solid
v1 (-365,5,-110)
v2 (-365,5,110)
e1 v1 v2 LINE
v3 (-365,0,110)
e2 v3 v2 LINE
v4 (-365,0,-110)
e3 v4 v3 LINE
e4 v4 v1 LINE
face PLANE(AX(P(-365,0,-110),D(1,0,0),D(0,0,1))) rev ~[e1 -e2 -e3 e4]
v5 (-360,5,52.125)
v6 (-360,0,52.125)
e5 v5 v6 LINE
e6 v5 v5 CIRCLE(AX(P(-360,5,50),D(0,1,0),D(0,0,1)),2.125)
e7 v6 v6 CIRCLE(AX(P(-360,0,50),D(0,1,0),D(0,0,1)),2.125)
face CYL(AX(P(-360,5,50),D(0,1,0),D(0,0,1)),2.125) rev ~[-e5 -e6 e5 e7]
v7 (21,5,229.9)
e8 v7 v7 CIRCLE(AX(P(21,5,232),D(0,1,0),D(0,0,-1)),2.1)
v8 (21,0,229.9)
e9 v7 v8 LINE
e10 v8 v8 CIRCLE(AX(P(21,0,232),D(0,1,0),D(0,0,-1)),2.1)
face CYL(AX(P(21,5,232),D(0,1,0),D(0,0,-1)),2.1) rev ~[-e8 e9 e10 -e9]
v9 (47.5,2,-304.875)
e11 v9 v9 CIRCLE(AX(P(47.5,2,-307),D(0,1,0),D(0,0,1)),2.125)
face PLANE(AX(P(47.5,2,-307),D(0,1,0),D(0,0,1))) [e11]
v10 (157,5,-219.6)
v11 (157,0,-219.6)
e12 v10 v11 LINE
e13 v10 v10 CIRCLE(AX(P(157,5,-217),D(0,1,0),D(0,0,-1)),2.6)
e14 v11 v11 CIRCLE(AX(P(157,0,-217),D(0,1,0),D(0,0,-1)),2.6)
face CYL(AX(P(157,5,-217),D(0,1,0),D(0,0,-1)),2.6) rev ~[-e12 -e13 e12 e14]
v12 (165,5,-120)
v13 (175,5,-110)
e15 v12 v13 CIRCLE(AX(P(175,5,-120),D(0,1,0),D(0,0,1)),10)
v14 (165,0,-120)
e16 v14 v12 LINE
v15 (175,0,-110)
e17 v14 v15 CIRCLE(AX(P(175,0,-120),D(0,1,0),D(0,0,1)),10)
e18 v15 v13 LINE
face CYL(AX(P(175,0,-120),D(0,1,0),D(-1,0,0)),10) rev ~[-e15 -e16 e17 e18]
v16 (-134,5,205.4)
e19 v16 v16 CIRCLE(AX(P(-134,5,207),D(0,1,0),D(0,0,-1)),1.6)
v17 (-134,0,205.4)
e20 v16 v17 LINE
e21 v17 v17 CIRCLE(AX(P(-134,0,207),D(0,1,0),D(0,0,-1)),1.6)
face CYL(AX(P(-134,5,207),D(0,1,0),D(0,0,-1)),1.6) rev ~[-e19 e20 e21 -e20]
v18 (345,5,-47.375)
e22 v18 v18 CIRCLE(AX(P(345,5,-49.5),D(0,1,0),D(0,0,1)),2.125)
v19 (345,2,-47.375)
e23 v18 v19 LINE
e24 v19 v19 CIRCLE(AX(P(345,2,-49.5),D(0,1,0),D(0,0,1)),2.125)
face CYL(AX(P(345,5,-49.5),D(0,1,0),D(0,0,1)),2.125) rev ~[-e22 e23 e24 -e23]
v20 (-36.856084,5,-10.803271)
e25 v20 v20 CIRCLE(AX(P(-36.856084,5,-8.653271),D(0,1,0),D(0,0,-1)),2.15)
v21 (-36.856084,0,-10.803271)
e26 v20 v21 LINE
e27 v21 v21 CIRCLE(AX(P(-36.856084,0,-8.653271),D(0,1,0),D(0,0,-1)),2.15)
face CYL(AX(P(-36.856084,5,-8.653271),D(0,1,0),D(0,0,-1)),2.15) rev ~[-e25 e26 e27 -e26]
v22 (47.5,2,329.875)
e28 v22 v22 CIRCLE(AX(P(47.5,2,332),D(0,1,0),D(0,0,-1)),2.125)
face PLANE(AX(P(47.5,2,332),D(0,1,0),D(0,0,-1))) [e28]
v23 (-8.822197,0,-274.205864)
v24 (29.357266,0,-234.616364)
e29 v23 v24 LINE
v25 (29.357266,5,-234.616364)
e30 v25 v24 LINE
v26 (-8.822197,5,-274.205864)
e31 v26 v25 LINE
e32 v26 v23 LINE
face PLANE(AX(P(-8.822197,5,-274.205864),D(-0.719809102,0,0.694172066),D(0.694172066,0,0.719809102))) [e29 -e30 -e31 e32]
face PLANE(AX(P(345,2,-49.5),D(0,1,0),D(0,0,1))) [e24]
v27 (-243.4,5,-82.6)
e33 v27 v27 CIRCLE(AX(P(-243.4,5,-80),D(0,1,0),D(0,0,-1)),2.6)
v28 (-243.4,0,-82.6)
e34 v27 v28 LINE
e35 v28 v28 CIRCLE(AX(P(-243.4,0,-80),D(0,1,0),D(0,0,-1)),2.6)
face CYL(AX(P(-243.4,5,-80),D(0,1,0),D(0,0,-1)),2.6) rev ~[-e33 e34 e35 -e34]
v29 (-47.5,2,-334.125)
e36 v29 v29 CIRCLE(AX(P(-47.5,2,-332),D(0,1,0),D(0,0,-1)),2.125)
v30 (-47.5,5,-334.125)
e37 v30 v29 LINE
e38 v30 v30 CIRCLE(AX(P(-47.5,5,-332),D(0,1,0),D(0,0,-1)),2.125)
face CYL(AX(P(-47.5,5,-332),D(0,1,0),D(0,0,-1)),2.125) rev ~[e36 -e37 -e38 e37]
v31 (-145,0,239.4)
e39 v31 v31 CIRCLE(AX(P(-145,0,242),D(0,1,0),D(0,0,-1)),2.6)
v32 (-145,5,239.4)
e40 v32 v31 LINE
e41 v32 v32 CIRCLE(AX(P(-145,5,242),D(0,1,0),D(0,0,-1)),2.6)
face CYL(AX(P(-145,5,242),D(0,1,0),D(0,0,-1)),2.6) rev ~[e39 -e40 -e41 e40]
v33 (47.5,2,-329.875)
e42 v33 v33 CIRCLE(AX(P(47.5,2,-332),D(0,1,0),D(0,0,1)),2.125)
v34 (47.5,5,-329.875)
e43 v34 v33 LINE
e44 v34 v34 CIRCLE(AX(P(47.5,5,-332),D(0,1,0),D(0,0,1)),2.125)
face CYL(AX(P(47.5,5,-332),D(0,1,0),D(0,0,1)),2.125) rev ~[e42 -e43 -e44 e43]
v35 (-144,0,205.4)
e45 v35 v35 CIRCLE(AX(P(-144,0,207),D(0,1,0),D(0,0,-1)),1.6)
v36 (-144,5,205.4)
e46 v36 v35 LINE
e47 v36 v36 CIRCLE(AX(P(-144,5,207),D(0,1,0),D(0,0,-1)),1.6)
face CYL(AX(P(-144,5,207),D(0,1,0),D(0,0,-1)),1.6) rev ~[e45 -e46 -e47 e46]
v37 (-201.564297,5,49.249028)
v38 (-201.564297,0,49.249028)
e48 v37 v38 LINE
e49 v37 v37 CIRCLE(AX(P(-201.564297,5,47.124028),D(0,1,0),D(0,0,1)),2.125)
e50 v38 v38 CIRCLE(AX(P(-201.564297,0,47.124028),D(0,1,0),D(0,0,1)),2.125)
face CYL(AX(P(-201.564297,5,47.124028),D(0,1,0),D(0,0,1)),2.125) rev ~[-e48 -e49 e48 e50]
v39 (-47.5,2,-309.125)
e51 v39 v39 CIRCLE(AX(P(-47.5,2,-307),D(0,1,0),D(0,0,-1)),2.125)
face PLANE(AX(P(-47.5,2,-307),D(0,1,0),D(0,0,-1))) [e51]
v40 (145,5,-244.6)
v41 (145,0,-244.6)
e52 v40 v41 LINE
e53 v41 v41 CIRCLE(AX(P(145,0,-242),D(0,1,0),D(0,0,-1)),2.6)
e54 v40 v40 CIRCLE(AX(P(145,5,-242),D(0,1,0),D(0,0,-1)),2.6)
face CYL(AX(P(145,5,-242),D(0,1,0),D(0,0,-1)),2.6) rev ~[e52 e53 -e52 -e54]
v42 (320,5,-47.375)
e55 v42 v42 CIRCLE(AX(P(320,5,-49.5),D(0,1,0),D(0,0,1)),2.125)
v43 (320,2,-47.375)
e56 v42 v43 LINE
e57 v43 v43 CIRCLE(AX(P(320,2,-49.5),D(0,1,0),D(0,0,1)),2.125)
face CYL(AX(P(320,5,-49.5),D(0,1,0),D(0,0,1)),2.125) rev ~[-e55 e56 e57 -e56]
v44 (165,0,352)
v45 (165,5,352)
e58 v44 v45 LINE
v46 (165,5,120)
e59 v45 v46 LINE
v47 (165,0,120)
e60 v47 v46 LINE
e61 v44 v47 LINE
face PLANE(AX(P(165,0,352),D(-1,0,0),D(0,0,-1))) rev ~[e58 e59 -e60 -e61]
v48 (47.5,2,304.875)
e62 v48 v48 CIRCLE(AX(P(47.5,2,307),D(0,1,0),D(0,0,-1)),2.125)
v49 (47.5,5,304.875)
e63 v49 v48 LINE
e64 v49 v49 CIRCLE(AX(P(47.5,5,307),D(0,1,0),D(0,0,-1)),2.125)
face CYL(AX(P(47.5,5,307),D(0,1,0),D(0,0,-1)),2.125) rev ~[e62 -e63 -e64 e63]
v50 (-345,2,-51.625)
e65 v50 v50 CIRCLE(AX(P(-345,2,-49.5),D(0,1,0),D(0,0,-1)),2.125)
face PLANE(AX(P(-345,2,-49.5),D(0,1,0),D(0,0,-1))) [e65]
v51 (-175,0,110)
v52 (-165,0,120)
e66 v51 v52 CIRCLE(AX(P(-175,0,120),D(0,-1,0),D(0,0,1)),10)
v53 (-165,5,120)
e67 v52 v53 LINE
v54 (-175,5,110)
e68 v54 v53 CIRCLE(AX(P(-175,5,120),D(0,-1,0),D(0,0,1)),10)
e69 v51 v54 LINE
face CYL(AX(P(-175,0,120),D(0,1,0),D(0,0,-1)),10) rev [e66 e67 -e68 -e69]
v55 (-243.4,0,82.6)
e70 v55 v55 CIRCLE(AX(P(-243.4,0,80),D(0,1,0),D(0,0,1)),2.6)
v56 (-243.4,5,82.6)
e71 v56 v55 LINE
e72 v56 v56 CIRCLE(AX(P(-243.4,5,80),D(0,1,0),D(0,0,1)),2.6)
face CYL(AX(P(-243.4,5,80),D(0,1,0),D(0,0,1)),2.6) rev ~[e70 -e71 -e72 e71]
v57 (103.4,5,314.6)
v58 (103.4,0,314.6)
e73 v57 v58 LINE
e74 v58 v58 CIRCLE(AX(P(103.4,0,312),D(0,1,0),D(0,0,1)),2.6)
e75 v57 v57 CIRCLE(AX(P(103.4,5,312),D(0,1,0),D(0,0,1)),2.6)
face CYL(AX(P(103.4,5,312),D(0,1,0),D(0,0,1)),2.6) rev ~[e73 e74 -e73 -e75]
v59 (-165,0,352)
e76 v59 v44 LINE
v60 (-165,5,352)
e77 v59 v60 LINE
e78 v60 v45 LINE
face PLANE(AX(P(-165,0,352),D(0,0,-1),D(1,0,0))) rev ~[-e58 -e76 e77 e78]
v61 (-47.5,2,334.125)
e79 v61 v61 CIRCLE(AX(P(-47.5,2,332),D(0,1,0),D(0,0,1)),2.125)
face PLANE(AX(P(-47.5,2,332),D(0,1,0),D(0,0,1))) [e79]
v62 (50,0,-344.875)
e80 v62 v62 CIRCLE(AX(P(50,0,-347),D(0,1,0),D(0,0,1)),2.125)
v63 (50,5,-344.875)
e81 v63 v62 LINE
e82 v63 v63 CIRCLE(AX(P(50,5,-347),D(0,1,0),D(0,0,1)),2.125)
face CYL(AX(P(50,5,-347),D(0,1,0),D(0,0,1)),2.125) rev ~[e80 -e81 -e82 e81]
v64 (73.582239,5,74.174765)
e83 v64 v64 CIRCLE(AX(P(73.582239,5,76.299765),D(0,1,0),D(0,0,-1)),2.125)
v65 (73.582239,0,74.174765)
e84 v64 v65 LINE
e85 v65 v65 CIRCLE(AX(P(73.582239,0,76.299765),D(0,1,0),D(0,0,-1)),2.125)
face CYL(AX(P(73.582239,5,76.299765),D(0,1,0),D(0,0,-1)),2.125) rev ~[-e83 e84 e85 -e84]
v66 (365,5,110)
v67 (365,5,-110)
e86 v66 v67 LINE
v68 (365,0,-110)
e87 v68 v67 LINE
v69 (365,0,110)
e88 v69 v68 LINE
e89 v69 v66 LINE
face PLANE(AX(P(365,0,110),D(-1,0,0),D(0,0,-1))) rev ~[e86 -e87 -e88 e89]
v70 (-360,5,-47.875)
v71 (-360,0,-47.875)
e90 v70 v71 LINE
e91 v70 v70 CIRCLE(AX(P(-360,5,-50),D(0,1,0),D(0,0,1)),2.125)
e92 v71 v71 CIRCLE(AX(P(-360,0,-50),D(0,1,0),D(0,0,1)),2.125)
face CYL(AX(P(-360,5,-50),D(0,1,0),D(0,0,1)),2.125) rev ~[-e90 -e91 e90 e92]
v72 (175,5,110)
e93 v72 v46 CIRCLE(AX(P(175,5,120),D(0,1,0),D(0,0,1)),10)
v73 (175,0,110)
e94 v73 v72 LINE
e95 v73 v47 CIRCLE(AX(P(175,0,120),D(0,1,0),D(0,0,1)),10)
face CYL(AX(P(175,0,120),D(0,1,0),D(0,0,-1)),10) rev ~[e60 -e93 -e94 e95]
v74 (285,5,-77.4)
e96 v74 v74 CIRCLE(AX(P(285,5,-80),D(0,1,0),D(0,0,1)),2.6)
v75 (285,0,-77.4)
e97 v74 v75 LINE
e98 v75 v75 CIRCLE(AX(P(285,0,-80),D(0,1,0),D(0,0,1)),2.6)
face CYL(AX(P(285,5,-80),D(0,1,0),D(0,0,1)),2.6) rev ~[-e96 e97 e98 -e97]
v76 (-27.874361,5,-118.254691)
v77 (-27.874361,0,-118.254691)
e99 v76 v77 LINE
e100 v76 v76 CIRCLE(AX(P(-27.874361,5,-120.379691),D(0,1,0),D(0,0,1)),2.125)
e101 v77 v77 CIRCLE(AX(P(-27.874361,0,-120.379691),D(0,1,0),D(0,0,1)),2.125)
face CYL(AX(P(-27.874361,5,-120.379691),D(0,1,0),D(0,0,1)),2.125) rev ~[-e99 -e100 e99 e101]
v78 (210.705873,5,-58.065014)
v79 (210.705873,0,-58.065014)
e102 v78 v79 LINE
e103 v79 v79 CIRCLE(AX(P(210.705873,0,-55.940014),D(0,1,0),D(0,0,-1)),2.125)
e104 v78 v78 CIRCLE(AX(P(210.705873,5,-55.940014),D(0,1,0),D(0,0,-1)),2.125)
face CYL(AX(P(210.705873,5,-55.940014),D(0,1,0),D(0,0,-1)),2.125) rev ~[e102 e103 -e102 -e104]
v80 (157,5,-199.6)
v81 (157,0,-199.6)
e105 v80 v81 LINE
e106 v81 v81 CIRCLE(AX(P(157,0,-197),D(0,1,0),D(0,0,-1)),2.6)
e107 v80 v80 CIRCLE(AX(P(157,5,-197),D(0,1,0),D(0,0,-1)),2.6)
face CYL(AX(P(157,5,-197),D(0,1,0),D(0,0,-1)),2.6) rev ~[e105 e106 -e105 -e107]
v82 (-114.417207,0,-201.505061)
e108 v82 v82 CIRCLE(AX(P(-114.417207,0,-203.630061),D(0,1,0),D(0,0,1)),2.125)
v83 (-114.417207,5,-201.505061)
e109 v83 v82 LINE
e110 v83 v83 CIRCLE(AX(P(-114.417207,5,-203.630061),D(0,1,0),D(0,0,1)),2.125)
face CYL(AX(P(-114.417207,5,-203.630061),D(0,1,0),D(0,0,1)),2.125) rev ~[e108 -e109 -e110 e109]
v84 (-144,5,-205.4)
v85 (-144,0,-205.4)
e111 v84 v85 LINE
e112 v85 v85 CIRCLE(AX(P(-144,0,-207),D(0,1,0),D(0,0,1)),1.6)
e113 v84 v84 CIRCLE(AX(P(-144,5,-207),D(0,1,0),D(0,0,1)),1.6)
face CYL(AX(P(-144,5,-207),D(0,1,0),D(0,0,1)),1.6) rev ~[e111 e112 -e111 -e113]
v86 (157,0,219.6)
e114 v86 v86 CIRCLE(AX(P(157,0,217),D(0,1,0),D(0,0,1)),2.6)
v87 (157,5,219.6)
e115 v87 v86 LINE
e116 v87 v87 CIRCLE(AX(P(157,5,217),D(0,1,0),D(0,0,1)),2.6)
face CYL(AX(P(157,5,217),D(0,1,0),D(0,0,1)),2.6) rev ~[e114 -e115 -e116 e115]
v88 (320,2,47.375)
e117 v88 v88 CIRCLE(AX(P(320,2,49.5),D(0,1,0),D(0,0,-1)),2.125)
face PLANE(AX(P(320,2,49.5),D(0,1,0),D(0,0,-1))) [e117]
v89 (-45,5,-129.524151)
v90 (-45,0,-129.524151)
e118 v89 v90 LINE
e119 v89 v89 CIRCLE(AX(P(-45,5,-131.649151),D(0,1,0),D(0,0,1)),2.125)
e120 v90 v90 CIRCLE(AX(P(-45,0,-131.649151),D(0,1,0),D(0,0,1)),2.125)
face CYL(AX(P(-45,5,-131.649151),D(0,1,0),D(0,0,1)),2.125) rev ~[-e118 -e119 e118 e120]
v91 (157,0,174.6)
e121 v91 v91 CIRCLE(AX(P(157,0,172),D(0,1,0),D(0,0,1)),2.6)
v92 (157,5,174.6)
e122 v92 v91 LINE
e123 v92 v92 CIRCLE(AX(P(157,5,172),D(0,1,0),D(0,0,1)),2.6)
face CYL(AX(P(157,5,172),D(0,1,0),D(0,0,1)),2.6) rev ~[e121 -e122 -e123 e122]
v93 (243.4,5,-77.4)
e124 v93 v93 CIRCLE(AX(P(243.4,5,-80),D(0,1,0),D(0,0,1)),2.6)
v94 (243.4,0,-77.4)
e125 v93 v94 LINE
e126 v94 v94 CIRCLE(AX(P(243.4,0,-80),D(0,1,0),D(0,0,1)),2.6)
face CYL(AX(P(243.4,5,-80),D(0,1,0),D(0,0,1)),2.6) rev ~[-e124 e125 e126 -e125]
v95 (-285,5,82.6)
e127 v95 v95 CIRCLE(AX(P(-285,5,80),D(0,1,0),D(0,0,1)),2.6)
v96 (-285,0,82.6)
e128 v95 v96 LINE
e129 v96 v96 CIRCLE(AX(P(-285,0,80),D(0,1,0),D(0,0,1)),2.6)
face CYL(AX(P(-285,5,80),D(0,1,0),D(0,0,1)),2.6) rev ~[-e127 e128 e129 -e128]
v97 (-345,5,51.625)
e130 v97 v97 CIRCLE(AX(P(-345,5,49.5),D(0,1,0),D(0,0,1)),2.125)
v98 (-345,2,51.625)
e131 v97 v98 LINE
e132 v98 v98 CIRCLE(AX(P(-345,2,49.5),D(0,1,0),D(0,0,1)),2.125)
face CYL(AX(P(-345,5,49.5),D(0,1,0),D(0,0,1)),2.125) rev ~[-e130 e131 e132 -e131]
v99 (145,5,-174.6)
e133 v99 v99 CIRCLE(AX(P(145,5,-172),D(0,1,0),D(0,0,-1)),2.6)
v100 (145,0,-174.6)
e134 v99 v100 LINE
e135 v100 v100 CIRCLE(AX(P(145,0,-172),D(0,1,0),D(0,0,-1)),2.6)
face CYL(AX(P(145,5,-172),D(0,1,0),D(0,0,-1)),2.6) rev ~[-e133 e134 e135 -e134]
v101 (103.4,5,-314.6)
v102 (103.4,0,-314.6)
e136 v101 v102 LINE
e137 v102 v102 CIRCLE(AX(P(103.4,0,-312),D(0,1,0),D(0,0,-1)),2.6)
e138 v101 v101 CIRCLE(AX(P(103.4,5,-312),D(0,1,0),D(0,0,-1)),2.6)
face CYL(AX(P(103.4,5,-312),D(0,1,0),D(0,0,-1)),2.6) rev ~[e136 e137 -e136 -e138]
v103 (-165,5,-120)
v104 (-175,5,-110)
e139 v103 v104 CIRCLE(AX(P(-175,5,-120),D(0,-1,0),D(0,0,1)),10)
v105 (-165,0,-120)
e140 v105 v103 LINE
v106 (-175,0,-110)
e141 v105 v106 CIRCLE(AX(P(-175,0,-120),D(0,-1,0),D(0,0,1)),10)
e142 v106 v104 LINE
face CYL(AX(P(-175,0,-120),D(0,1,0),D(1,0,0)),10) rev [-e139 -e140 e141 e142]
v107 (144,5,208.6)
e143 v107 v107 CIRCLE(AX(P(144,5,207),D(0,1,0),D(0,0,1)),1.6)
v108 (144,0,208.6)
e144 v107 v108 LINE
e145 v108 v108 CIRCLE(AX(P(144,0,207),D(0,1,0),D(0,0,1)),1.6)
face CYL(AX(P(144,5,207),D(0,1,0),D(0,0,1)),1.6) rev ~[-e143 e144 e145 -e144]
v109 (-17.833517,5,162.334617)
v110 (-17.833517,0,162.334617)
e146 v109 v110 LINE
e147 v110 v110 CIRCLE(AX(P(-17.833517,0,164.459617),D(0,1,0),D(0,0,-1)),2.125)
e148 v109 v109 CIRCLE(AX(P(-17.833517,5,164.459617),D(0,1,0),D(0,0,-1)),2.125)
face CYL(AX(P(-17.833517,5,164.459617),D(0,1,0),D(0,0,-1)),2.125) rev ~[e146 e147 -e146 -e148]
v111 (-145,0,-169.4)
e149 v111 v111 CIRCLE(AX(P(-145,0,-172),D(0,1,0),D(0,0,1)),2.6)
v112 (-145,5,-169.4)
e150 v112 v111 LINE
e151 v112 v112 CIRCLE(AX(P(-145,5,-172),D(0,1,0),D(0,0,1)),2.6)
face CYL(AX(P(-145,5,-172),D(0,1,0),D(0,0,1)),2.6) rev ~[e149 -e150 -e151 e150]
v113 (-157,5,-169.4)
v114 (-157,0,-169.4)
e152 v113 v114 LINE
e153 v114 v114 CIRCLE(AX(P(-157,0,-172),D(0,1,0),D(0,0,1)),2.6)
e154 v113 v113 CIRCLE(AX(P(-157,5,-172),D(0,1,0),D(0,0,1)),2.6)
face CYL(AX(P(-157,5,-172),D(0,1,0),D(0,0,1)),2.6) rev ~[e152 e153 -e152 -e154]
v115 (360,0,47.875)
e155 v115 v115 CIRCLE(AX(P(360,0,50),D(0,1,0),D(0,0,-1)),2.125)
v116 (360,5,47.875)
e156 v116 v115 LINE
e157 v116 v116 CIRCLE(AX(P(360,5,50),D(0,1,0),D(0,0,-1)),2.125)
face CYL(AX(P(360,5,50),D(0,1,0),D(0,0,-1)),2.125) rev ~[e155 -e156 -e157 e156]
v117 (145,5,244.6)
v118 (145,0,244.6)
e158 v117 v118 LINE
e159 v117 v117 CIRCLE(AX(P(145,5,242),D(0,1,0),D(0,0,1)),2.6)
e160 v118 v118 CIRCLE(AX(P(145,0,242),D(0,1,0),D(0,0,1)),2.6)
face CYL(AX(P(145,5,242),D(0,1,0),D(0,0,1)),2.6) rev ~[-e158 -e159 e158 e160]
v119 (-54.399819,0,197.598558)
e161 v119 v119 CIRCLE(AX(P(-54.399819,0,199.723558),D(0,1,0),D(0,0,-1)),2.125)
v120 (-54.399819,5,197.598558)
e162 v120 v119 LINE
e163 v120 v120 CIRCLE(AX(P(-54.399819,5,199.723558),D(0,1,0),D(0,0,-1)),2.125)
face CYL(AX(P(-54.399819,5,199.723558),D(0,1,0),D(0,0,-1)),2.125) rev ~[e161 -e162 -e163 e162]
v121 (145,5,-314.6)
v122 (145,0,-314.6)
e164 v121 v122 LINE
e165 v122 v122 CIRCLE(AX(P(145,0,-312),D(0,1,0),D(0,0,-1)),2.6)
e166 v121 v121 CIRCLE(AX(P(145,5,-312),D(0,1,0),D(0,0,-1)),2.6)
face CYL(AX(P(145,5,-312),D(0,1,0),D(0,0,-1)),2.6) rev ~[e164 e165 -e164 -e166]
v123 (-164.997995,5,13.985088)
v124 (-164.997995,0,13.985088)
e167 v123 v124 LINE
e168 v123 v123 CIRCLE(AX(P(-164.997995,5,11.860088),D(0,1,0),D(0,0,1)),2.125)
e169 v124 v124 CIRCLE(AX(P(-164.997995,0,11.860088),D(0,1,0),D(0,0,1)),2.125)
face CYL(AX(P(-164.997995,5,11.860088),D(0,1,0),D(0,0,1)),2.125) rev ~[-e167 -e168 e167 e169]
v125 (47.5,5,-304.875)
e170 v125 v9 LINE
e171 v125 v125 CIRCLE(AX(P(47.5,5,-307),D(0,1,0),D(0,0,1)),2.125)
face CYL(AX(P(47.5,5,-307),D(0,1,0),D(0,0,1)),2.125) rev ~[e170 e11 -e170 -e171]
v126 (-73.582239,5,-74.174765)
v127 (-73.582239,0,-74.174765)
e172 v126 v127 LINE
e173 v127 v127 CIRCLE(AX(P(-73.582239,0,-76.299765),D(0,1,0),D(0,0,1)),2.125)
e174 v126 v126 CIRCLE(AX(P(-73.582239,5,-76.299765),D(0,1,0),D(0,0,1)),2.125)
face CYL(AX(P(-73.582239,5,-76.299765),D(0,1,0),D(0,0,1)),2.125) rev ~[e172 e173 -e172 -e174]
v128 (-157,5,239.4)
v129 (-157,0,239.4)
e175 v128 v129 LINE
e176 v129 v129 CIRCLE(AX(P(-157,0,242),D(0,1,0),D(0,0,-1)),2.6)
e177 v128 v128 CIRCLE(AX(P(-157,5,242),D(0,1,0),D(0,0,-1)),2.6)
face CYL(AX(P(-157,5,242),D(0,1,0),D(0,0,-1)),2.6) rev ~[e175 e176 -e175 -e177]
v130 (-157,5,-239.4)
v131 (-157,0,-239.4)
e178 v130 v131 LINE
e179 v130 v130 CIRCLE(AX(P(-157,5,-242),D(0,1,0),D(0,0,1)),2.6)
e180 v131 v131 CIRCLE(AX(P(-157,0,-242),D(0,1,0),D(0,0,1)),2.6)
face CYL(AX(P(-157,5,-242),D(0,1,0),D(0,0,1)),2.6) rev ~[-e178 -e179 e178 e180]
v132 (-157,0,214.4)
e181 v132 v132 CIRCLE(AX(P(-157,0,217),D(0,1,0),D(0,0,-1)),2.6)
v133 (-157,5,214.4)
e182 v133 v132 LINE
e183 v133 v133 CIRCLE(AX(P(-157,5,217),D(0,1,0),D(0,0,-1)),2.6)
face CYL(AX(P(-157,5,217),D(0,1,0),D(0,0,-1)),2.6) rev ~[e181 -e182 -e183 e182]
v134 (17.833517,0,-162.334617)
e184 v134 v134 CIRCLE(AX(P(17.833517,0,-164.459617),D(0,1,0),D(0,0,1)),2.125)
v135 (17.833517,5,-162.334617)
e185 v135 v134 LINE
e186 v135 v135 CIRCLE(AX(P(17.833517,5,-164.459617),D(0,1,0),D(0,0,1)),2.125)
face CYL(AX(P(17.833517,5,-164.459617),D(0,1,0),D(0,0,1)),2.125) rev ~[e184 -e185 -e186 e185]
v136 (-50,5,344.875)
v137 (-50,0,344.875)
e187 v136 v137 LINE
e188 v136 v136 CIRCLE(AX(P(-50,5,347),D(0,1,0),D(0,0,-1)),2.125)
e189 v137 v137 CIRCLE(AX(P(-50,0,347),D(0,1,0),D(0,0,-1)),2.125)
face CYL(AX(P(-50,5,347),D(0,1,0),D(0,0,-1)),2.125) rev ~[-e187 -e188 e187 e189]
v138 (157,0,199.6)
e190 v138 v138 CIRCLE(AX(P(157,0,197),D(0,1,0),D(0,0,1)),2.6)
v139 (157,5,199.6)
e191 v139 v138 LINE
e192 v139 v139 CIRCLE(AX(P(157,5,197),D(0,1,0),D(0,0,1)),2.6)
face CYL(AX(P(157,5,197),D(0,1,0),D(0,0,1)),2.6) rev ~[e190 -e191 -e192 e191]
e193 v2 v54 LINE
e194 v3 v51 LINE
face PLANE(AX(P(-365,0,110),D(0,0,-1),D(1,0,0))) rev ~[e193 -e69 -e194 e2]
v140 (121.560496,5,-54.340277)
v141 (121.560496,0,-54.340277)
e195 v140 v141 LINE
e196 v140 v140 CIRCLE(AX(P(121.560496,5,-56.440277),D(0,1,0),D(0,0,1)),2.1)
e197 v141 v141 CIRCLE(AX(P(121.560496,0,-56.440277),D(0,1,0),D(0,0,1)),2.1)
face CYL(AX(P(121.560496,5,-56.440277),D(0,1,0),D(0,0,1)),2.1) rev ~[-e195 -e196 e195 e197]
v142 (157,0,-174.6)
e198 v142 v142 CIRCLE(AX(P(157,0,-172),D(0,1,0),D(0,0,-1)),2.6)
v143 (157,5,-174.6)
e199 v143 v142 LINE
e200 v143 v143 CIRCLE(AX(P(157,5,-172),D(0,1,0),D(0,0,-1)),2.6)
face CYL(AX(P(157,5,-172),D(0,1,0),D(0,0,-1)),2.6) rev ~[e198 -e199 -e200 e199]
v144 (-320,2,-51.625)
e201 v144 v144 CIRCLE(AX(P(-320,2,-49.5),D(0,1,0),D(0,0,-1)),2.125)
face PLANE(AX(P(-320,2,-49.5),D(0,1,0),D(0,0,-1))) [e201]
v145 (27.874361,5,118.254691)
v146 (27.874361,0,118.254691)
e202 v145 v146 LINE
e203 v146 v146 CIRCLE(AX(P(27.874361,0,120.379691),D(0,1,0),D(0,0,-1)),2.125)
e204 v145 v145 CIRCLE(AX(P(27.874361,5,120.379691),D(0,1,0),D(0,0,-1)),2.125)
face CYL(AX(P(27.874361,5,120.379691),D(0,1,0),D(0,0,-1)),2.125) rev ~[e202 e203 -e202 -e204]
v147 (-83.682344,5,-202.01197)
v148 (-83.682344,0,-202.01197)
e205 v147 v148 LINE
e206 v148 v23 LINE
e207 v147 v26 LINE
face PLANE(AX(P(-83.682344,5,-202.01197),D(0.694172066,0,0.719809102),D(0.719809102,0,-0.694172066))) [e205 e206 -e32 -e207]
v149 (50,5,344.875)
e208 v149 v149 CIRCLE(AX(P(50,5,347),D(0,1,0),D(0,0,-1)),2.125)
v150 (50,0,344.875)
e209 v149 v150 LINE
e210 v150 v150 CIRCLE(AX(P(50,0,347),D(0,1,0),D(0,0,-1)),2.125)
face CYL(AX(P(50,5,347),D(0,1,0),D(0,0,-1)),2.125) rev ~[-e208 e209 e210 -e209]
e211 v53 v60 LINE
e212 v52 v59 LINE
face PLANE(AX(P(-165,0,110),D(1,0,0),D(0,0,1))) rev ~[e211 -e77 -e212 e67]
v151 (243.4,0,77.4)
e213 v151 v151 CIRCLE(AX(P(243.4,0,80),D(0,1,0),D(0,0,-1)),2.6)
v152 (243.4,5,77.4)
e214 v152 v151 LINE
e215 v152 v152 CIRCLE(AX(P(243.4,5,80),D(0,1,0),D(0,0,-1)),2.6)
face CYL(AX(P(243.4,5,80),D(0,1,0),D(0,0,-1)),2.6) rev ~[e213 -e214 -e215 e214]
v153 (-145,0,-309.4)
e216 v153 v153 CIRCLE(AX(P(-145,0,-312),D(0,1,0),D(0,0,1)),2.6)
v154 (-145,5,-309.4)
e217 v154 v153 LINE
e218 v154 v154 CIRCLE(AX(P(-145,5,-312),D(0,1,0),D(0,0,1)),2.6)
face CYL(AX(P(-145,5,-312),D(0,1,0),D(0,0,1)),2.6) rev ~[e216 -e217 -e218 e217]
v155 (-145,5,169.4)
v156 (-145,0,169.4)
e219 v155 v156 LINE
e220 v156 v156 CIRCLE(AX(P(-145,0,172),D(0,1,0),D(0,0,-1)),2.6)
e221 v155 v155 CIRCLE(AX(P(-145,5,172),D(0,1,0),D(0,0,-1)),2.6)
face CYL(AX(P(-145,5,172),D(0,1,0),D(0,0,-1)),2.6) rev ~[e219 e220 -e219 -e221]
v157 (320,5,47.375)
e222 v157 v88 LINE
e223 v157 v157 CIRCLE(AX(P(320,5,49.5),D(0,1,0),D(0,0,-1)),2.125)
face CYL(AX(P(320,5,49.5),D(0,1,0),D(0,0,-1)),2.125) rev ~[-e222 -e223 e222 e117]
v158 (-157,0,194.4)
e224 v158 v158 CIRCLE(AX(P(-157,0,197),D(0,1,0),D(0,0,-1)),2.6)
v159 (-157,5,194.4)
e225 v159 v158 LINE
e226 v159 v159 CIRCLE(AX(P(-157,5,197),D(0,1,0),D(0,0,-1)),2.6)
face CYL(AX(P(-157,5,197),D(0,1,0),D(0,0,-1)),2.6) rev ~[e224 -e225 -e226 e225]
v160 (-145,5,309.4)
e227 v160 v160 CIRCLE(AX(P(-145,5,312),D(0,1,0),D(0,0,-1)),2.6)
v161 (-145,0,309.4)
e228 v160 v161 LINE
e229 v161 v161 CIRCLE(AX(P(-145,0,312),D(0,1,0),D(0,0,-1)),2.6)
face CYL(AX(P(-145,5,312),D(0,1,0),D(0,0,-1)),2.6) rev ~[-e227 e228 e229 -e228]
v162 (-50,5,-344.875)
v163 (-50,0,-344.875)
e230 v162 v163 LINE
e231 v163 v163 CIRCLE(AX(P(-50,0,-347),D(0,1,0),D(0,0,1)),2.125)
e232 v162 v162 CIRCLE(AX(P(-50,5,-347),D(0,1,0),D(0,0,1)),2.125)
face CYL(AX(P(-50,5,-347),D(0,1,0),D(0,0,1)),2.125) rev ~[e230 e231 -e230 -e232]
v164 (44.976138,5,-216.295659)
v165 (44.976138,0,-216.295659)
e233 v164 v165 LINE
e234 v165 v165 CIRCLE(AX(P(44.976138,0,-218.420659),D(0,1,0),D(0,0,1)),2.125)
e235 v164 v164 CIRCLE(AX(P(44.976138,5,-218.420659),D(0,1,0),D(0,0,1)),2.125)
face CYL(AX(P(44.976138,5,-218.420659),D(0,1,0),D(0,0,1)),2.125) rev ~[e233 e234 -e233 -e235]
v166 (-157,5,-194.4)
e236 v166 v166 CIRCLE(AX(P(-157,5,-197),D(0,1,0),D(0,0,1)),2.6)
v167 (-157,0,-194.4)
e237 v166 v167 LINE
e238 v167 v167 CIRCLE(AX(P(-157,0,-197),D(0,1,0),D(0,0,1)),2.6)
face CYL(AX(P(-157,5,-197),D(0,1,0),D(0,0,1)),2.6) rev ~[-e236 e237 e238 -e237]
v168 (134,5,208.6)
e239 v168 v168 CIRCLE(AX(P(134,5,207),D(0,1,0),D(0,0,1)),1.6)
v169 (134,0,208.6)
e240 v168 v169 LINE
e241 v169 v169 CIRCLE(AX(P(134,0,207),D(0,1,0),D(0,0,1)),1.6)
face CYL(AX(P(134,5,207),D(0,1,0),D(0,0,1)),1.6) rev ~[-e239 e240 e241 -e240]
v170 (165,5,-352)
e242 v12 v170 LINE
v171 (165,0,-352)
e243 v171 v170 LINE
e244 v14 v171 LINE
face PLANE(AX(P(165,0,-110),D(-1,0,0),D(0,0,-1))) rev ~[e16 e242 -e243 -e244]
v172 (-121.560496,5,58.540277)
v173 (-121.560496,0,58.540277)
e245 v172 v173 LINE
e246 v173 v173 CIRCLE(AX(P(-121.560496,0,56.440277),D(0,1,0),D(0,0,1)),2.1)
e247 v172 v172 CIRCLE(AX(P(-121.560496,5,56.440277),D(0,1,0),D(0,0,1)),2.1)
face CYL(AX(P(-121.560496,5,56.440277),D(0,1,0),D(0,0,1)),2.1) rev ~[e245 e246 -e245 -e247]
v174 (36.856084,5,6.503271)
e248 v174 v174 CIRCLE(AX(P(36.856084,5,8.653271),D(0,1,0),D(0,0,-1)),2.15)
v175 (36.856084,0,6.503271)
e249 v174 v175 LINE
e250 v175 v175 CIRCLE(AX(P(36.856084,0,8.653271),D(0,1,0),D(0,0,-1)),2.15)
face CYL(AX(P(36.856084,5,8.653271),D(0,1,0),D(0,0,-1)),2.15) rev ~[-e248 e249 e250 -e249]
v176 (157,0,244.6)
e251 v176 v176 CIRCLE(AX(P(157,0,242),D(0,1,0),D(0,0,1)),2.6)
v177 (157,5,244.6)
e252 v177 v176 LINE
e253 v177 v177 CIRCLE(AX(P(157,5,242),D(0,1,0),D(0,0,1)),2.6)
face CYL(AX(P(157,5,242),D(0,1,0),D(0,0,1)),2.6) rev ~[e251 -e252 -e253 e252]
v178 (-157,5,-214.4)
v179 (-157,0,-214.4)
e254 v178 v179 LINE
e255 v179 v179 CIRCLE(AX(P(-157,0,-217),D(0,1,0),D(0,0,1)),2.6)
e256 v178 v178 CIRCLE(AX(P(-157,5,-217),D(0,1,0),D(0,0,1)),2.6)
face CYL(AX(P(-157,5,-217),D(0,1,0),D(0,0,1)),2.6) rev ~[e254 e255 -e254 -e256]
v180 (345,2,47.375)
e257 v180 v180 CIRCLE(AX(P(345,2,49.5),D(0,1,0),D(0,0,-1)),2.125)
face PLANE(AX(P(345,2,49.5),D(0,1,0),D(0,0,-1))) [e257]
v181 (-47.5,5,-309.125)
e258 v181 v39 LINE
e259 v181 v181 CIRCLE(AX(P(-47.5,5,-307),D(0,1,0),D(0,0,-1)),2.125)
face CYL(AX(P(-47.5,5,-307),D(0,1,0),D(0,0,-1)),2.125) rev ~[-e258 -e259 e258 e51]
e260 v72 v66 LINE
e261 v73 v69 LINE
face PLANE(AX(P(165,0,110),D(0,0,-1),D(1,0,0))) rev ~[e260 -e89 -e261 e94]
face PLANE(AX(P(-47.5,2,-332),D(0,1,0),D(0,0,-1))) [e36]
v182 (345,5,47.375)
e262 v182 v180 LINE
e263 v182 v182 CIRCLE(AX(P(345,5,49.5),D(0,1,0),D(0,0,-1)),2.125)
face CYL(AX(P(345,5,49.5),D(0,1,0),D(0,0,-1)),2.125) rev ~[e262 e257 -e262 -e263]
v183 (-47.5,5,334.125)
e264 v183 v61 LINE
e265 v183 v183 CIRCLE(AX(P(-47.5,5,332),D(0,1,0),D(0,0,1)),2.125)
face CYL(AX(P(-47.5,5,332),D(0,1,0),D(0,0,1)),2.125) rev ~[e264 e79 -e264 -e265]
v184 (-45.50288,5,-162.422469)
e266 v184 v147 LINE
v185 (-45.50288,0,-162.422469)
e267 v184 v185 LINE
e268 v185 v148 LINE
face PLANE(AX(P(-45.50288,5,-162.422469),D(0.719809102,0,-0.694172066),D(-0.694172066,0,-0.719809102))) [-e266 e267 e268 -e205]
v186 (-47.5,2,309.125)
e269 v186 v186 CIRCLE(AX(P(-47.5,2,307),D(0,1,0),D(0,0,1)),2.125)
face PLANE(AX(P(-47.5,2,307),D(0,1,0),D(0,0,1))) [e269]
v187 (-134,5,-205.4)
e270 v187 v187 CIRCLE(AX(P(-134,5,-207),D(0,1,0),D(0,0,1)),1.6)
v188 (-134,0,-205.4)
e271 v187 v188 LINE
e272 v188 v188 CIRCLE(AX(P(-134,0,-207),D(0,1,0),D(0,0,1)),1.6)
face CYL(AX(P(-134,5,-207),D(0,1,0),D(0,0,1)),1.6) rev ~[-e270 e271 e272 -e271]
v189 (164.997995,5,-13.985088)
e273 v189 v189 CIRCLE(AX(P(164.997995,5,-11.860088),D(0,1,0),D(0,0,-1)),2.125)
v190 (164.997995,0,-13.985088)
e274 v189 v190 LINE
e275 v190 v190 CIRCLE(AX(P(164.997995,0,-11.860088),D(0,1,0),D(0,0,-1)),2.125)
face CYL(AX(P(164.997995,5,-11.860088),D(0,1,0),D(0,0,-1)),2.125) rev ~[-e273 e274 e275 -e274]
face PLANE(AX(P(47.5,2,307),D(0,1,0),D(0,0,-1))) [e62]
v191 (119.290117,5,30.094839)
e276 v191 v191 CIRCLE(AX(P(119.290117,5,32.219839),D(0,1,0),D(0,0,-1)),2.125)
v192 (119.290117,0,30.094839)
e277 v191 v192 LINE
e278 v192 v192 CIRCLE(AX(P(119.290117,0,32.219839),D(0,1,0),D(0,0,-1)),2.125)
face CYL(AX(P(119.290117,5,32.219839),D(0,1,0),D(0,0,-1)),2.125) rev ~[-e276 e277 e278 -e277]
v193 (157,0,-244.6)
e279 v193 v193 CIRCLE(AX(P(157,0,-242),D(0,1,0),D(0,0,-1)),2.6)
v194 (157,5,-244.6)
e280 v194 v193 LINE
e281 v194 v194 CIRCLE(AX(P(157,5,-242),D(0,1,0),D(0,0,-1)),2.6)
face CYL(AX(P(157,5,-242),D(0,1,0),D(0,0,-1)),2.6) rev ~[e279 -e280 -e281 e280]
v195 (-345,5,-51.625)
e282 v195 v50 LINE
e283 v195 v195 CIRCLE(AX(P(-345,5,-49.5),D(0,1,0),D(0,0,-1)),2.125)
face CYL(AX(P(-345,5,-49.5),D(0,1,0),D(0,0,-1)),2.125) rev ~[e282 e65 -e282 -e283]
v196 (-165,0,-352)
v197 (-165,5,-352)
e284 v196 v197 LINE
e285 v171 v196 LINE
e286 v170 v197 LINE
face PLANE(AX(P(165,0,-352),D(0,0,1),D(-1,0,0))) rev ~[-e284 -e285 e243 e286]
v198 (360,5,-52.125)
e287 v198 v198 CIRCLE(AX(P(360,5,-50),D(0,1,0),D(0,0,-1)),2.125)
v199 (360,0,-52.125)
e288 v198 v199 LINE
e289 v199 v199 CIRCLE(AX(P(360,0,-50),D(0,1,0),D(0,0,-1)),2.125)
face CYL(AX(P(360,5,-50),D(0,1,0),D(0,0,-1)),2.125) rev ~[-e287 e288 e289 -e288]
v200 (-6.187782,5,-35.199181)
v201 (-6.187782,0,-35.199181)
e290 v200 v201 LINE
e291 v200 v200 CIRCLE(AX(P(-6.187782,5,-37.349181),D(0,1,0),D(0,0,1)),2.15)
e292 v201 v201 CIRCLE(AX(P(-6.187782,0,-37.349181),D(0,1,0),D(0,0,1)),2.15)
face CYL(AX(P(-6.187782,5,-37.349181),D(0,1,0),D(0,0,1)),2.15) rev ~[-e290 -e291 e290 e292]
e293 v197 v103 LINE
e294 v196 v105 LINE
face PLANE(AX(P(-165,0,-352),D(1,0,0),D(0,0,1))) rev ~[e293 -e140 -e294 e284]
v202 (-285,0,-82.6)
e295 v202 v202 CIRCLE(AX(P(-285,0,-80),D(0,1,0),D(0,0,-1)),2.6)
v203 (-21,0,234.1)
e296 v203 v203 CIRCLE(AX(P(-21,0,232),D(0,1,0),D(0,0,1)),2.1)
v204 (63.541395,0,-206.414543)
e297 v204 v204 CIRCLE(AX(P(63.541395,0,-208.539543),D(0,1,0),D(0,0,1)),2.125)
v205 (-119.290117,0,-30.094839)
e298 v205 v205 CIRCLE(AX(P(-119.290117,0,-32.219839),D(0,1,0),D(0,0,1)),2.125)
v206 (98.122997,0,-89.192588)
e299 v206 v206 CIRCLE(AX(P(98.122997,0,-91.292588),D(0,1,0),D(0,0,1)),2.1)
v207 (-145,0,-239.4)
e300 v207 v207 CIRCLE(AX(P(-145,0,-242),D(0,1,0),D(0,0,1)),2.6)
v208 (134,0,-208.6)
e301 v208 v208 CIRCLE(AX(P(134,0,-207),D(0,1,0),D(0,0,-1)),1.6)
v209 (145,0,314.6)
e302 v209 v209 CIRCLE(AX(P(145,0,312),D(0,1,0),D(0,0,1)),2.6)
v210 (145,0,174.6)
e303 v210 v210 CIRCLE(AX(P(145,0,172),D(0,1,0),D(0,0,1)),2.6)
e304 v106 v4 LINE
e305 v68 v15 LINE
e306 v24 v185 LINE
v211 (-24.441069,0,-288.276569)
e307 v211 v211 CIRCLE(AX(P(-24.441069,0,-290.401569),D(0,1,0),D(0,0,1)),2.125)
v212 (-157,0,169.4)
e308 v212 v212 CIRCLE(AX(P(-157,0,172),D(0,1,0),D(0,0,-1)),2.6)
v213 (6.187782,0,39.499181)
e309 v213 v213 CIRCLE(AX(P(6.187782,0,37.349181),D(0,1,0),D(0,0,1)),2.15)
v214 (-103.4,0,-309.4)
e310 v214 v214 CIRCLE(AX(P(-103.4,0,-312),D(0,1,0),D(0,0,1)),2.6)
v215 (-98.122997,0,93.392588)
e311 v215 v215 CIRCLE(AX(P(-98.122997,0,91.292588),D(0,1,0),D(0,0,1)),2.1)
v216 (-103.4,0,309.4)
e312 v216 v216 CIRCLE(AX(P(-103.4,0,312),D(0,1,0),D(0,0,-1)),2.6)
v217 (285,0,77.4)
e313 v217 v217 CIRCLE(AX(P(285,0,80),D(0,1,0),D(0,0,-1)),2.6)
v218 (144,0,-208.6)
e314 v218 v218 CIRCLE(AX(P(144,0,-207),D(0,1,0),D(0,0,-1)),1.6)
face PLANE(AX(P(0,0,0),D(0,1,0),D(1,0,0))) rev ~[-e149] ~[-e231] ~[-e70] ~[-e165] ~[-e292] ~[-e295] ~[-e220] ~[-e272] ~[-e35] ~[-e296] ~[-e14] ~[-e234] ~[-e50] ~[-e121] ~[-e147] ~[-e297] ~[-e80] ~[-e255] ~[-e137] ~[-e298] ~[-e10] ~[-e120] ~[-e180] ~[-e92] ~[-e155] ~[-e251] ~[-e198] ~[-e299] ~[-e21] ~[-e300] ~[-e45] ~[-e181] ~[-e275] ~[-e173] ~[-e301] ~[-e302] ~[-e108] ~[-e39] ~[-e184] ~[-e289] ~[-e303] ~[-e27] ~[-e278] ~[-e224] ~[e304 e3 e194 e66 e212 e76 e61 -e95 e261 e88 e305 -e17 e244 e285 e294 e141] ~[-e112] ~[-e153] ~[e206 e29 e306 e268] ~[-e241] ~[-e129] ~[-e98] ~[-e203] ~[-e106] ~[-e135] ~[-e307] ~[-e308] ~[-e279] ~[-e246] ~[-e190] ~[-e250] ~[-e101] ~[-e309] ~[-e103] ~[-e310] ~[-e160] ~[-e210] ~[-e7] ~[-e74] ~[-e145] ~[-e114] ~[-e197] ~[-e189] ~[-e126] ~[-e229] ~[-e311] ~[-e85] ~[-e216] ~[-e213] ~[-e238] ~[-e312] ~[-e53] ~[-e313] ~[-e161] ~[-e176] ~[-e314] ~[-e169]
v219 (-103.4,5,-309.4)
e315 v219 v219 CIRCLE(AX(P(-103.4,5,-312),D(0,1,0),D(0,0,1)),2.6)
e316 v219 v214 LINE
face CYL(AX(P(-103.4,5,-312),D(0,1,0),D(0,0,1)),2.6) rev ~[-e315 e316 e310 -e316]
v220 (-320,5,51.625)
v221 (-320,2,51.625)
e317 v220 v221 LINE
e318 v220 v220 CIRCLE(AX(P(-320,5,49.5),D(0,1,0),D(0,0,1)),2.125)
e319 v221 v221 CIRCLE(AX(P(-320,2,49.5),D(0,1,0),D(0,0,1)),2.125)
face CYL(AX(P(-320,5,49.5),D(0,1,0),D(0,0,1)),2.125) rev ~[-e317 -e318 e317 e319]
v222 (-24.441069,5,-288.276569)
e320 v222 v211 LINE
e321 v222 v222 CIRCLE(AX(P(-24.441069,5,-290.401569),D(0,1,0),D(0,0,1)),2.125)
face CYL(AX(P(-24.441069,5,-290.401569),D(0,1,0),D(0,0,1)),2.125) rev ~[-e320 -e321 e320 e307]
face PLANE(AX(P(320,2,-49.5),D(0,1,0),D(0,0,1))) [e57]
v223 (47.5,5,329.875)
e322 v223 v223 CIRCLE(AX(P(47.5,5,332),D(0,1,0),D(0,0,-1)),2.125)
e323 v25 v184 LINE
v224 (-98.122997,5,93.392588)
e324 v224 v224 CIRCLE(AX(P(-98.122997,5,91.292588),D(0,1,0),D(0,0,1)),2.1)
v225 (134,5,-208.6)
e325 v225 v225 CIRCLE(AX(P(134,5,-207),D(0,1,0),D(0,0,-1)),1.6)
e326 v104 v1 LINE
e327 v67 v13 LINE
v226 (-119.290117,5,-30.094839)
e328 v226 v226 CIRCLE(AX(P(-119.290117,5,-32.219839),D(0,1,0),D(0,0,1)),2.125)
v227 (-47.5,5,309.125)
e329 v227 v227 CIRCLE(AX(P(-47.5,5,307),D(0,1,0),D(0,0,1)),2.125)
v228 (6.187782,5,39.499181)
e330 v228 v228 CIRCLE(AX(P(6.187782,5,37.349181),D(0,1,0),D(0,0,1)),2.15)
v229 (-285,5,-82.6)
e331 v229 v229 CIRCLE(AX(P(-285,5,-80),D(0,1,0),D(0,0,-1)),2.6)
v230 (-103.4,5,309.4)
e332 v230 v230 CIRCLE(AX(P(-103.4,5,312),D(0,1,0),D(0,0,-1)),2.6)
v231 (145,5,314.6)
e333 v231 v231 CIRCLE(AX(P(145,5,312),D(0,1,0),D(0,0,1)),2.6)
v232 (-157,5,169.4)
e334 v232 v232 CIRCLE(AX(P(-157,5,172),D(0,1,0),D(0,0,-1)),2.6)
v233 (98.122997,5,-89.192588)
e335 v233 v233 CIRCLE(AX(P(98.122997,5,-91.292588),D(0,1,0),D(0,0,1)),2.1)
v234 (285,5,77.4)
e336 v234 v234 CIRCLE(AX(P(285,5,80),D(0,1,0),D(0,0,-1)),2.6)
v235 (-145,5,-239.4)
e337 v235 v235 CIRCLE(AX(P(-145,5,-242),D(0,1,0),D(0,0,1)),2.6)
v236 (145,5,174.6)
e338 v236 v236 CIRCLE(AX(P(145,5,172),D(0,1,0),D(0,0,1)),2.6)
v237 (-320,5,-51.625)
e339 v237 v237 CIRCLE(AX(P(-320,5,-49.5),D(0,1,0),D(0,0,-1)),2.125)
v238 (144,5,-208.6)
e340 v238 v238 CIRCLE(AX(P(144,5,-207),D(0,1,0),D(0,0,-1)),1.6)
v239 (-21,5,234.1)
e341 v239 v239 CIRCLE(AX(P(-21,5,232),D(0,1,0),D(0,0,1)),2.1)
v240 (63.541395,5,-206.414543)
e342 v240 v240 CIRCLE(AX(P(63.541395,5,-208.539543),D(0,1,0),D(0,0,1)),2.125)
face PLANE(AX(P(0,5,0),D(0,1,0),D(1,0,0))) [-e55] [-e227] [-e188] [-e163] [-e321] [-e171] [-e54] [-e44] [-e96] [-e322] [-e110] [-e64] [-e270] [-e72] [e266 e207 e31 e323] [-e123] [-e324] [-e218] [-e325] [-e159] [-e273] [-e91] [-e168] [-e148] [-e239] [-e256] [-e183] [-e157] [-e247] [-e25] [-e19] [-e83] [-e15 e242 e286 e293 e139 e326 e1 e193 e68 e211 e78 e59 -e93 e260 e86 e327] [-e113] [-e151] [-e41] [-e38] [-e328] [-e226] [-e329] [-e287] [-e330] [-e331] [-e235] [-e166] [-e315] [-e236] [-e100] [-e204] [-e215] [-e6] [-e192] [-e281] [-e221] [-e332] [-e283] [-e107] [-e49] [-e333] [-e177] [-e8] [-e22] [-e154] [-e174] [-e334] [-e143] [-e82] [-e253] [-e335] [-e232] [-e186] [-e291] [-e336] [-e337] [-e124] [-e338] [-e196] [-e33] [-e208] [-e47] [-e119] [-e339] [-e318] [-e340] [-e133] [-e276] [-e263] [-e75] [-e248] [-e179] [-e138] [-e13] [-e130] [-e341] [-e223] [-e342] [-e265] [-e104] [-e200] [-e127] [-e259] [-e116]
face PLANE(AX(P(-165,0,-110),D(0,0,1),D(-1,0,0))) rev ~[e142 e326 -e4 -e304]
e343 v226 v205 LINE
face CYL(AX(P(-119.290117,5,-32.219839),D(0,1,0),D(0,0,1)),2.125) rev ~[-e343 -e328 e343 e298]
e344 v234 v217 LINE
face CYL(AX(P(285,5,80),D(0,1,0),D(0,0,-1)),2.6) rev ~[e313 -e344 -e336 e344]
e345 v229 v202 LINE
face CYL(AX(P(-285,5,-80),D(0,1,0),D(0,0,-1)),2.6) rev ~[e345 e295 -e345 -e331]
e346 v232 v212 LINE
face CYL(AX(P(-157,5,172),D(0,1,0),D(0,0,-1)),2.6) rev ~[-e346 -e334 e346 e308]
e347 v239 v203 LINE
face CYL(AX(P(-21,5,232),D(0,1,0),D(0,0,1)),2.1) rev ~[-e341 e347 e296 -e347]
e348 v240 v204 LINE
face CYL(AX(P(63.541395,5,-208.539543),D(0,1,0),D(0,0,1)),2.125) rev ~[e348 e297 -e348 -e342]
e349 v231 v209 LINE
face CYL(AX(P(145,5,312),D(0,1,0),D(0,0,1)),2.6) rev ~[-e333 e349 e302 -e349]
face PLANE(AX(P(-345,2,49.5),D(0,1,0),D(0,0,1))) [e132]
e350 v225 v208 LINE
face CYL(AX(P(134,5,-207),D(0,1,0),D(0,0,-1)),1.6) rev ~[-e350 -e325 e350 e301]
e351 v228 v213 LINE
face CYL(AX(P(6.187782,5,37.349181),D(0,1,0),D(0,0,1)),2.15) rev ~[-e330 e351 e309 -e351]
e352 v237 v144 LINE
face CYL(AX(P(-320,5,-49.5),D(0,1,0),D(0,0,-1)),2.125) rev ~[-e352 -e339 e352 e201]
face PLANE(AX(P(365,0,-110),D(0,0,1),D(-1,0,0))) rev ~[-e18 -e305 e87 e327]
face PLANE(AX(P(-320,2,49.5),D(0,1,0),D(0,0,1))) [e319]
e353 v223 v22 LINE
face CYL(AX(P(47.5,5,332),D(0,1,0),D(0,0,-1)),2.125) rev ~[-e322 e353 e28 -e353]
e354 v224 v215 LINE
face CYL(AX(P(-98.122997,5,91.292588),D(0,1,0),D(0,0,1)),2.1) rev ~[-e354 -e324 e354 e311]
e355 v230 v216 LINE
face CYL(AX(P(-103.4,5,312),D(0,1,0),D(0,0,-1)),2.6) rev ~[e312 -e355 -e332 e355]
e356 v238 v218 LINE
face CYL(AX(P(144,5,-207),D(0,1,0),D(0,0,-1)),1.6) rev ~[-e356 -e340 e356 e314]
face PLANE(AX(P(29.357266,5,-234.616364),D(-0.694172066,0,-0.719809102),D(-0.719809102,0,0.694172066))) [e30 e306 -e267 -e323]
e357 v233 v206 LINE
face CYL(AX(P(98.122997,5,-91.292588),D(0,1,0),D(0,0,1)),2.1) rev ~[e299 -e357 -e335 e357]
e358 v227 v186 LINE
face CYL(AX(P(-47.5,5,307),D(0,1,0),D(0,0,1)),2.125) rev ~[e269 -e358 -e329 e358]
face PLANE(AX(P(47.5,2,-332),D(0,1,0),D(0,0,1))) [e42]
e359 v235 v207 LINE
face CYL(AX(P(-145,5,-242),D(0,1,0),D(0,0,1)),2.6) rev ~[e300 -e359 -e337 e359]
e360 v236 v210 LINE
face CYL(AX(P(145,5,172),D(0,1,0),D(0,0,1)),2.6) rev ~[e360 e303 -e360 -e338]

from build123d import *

# Parameters (mm, degrees)
BOSS_EXTRUDE1_DEPTH = 5
SKETCH2_R           = 2.125
CUT_EXTRUDE1_DEPTH  = 3
SKETCH4_R           = 2.6
SKETCH4_R_2         = 1.6
CUT_EXTRUDE3_DEPTH  = 10
SKETCH5_R           = 2.125
CUT_EXTRUDE4_DEPTH  = 10
FILLET1_R           = 10
SKETCH6_R           = 2.6
CUT_EXTRUDE5_DEPTH  = 10
SKETCH7_R           = 2.125
CUT_EXTRUDE6_DEPTH  = 10
SKETCH9_R           = 2.1
CUT_EXTRUDE7_DEPTH  = 10
SKETCH10_R          = 2.125
CUT_EXTRUDE8_DEPTH  = 10
SKETCH11_R          = 2.15
CUT_EXTRUDE9_DEPTH  = 10


with BuildPart() as part:
    # Sketch1 → Boss-Extrude1 (new body)
    with BuildSketch(Plane(origin=(0, 0, 0), x_dir=(1, 0, 0), z_dir=(0, 1, 0))):
        Polygon((165, 352), (-165, 352), (-165, 110), (-365, 110), (-365, -110), (-165, -110), (-165, -352), (165, -352), (165, -110), (365, -110), (365, 110), (165, 110), align=None)
    extrude(amount=BOSS_EXTRUDE1_DEPTH)

    # Sketch2 → Cut-Extrude1 (cut)
    with BuildSketch(Plane(origin=(0, 5, 0), x_dir=(1, 0, 0), z_dir=(0, 1, 0))):
        with Locations(Location((345, 49.5, 0), (0, 0, 270))):
            Circle(SKETCH2_R)
        with Locations(Location((320, 49.5, 0), (0, 0, 270))):
            Circle(SKETCH2_R)
        with Locations(Location((320, -49.5, 0), (0, 0, 90))):
            Circle(SKETCH2_R)
        with Locations(Location((345, -49.5, 0), (0, 0, 90))):
            Circle(SKETCH2_R)
        with Locations(Location((-345, -49.5, 0), (0, 0, 270))):
            Circle(SKETCH2_R)
        with Locations(Location((-320, -49.5, 0), (0, 0, 270))):
            Circle(SKETCH2_R)
        with Locations(Location((-320, 49.5, 0), (0, 0, 90))):
            Circle(SKETCH2_R)
        with Locations(Location((-345, 49.5, 0), (0, 0, 90))):
            Circle(SKETCH2_R)
        with Locations(Location((47.5, 332, 0), (0, 0, 270))):
            Circle(SKETCH2_R)
        with Locations(Location((47.5, 307, 0), (0, 0, 270))):
            Circle(SKETCH2_R)
        with Locations(Location((-47.5, 307, 0), (0, 0, 90))):
            Circle(SKETCH2_R)
        with Locations(Location((-47.5, 332, 0), (0, 0, 90))):
            Circle(SKETCH2_R)
        with Locations(Location((-47.5, -332, 0), (0, 0, 270))):
            Circle(SKETCH2_R)
        with Locations(Location((-47.5, -307, 0), (0, 0, 270))):
            Circle(SKETCH2_R)
        with Locations(Location((47.5, -307, 0), (0, 0, 90))):
            Circle(SKETCH2_R)
        with Locations(Location((47.5, -332, 0), (0, 0, 90))):
            Circle(SKETCH2_R)
    extrude(amount=-CUT_EXTRUDE1_DEPTH, mode=Mode.SUBTRACT)

    # Sketch4 → Cut-Extrude3 (cut)
    with BuildSketch(Plane(origin=(0, 5, 0), x_dir=(1, 0, 0), z_dir=(0, 1, 0))):
        with Locations(Location((-157, 172, 0), (0, 0, 270))):
            Circle(SKETCH4_R)
        with Locations(Location((-145, 172, 0), (0, 0, 270))):
            Circle(SKETCH4_R)
        with Locations(Location((-157, 197, 0), (0, 0, 270))):
            Circle(SKETCH4_R)
        with Locations(Location((-157, 217, 0), (0, 0, 270))):
            Circle(SKETCH4_R)
        with Locations(Location((-157, 242, 0), (0, 0, 270))):
            Circle(SKETCH4_R)
        with Locations(Location((-145, 242, 0), (0, 0, 270))):
            Circle(SKETCH4_R)
        with Locations(Location((145, 242, 0), (0, 0, 90))):
            Circle(SKETCH4_R)
        with Locations(Location((157, 242, 0), (0, 0, 90))):
            Circle(SKETCH4_R)
        with Locations(Location((157, 217, 0), (0, 0, 90))):
            Circle(SKETCH4_R)
        with Locations(Location((157, 197, 0), (0, 0, 90))):
            Circle(SKETCH4_R)
        with Locations(Location((145, 172, 0), (0, 0, 90))):
            Circle(SKETCH4_R)
        with Locations(Location((157, 172, 0), (0, 0, 90))):
            Circle(SKETCH4_R)
        with Locations(Location((157, -172, 0), (0, 0, 270))):
            Circle(SKETCH4_R)
        with Locations(Location((145, -172, 0), (0, 0, 270))):
            Circle(SKETCH4_R)
        with Locations(Location((157, -197, 0), (0, 0, 270))):
            Circle(SKETCH4_R)
        with Locations(Location((157, -217, 0), (0, 0, 270))):
            Circle(SKETCH4_R)
        with Locations(Location((157, -242, 0), (0, 0, 270))):
            Circle(SKETCH4_R)
        with Locations(Location((145, -242, 0), (0, 0, 270))):
            Circle(SKETCH4_R)
        with Locations(Location((-145, -242, 0), (0, 0, 90))):
            Circle(SKETCH4_R)
        with Locations(Location((-157, -242, 0), (0, 0, 90))):
            Circle(SKETCH4_R)
        with Locations(Location((-157, -217, 0), (0, 0, 90))):
            Circle(SKETCH4_R)
        with Locations(Location((-157, -197, 0), (0, 0, 90))):
            Circle(SKETCH4_R)
        with Locations(Location((-145, -172, 0), (0, 0, 90))):
            Circle(SKETCH4_R)
        with Locations(Location((-157, -172, 0), (0, 0, 90))):
            Circle(SKETCH4_R)
        with Locations(Location((144, -207, 0), (0, 0, 270))):
            Circle(SKETCH4_R_2)
        with Locations(Location((-144, -207, 0), (0, 0, 90))):
            Circle(SKETCH4_R_2)
        with Locations(Location((144, 207, 0), (0, 0, 90))):
            Circle(SKETCH4_R_2)
        with Locations(Location((-144, 207, 0), (0, 0, 270))):
            Circle(SKETCH4_R_2)
        with Locations(Location((134, -207, 0), (0, 0, 270))):
            Circle(SKETCH4_R_2)
        with Locations(Location((-134, -207, 0), (0, 0, 90))):
            Circle(SKETCH4_R_2)
        with Locations(Location((134, 207, 0), (0, 0, 90))):
            Circle(SKETCH4_R_2)
        with Locations(Location((-134, 207, 0), (0, 0, 270))):
            Circle(SKETCH4_R_2)
    extrude(amount=-CUT_EXTRUDE3_DEPTH, mode=Mode.SUBTRACT)

    # Sketch5 → Cut-Extrude4 (cut)
    with BuildSketch(Plane(origin=(0, 5, 0), x_dir=(1, 0, 0), z_dir=(0, 1, 0))):
        with Locations(Location((-50, 347, 0), (0, 0, 270))):
            Circle(SKETCH5_R)
        with Locations(Location((50, 347, 0), (0, 0, 270))):
            Circle(SKETCH5_R)
        with Locations(Location((50, -347, 0), (0, 0, 90))):
            Circle(SKETCH5_R)
        with Locations(Location((-50, -347, 0), (0, 0, 90))):
            Circle(SKETCH5_R)
        with Locations(Location((-360, 50, 0), (0, 0, 270))):
            Circle(SKETCH5_R)
        with Locations(Location((-360, -50, 0), (0, 0, 270))):
            Circle(SKETCH5_R)
        with Locations(Location((360, -50, 0), (0, 0, 90))):
            Circle(SKETCH5_R)
        with Locations(Location((360, 50, 0), (0, 0, 90))):
            Circle(SKETCH5_R)
    extrude(amount=-CUT_EXTRUDE4_DEPTH, mode=Mode.SUBTRACT)

    # Fillet1
    fillet1_edges = [part.edges().sort_by_distance(p)[0] for p in [
        (165, 2.5, -110),
        (165, 2.5, 110),
        (-165, 2.5, 110),
        (-165, 2.5, -110),
    ]]
    fillet(fillet1_edges, radius=FILLET1_R)

    # Sketch6 → Cut-Extrude5 (cut)
    with BuildSketch(Plane(origin=(0, 5, 0), x_dir=(1, 0, 0), z_dir=(0, 1, 0))):
        with Locations(Location((-145, 312, 0), (0, 0, 270))):
            Circle(SKETCH6_R)
        with Locations(Location((-103.4, 312, 0), (0, 0, 270))):
            Circle(SKETCH6_R)
        with Locations(Location((103.4, 312, 0), (0, 0, 90))):
            Circle(SKETCH6_R)
        with Locations(Location((145, 312, 0), (0, 0, 90))):
            Circle(SKETCH6_R)
        with Locations(Location((145, -312, 0), (0, 0, 270))):
            Circle(SKETCH6_R)
        with Locations(Location((103.4, -312, 0), (0, 0, 270))):
            Circle(SKETCH6_R)
        with Locations(Location((-103.4, -312, 0), (0, 0, 90))):
            Circle(SKETCH6_R)
        with Locations(Location((-145, -312, 0), (0, 0, 90))):
            Circle(SKETCH6_R)
        with Locations(Location((243.4, 80, 0), (0, 0, 270))):
            Circle(SKETCH6_R)
        with Locations(Location((285, 80, 0), (0, 0, 270))):
            Circle(SKETCH6_R)
        with Locations(Location((285, -80, 0), (0, 0, 90))):
            Circle(SKETCH6_R)
        with Locations(Location((243.4, -80, 0), (0, 0, 90))):
            Circle(SKETCH6_R)
        with Locations(Location((-243.4, -80, 0), (0, 0, 270))):
            Circle(SKETCH6_R)
        with Locations(Location((-285, -80, 0), (0, 0, 270))):
            Circle(SKETCH6_R)
        with Locations(Location((-285, 80, 0), (0, 0, 90))):
            Circle(SKETCH6_R)
        with Locations(Location((-243.4, 80, 0), (0, 0, 90))):
            Circle(SKETCH6_R)
    extrude(amount=-CUT_EXTRUDE5_DEPTH, mode=Mode.SUBTRACT)

    # Sketch7 → Cut-Extrude6 (cut)
    with BuildSketch(Plane(origin=(0, 5, 0), x_dir=(1, 0, 0), z_dir=(0, 1, 0))):
        with Locations(Location((-73.582238948, 76.299764819, 0), (0, 0, 270))):
            Circle(SKETCH7_R)
        with Locations(Location((-27.874360967, 120.379690981, 0), (0, 0, 270))):
            Circle(SKETCH7_R)
        with Locations(Location((17.833517014, 164.459617143, 0), (0, 0, 270))):
            Circle(SKETCH7_R)
        with Locations(Location((63.541394994, 208.539543306, 0), (0, 0, 270))):
            Circle(SKETCH7_R)
        with Locations(Location((-119.290116929, 32.219838656, 0), (0, 0, 270))):
            Circle(SKETCH7_R)
        with Locations(Location((-164.99799491, -11.860087506, 0), (0, 0, 270))):
            Circle(SKETCH7_R)
        with Locations(Location((-201.564297295, -47.124028436, 0), (0, 0, 270))):
            Circle(SKETCH7_R)
        with Locations(Location((-54.399819398, -199.723558073, 0), (0, 0, 90))):
            Circle(SKETCH7_R)
        with Locations(Location((-17.833517014, -164.459617143, 0), (0, 0, 90))):
            Circle(SKETCH7_R)
        with Locations(Location((27.874360967, -120.379690981, 0), (0, 0, 90))):
            Circle(SKETCH7_R)
        with Locations(Location((210.705872891, 55.940013669, 0), (0, 0, 90))):
            Circle(SKETCH7_R)
        with Locations(Location((164.99799491, 11.860087506, 0), (0, 0, 90))):
            Circle(SKETCH7_R)
        with Locations(Location((119.290116929, -32.219838656, 0), (0, 0, 90))):
            Circle(SKETCH7_R)
        with Locations(Location((73.582238948, -76.299764819, 0), (0, 0, 90))):
            Circle(SKETCH7_R)
    extrude(amount=-CUT_EXTRUDE6_DEPTH, mode=Mode.SUBTRACT)

    # Sketch9 → Cut-Extrude7 (cut)
    with BuildSketch(Plane(origin=(0, 5, 0), x_dir=(1, 0, 0), z_dir=(0, 1, 0))):
        with Locations(Location((-121.560496485, -56.440276951, 0), (0, 0, 270))):
            Circle(SKETCH9_R)
        with Locations(Location((-98.122996746, -91.292588295, 0), (0, 0, 270))):
            Circle(SKETCH9_R)
        with Locations(Location((98.122996746, 91.292588295, 0), (0, 0, 270))):
            Circle(SKETCH9_R)
        with Locations(Location((121.560496485, 56.440276951, 0), (0, 0, 270))):
            Circle(SKETCH9_R)
        with Locations(Location((21, 232, 0), (0, 0, 270))):
            Circle(SKETCH9_R)
        with Locations(Location((-21, 232, 0), (0, 0, 90))):
            Circle(SKETCH9_R)
        with Locations(Location((-21, -232, 0), (0, 0, 270))):
            Circle(SKETCH9_R)
        with Locations(Location((21, -232, 0), (0, 0, 90))):
            Circle(SKETCH9_R)
    extrude(amount=-CUT_EXTRUDE7_DEPTH, mode=Mode.SUBTRACT)

    # Sketch10 → Cut-Extrude8 (cut)
    with BuildSketch(Plane(origin=(0, 5, 0), x_dir=(1, 0, 0), z_dir=(0, 1, 0))):
        with Locations(Location((44.976137758, 218.42065903, 0), (0, 0, 270))):
            Circle(SKETCH10_R)
        with Locations(Location((-45, 131.649150836, 0), (0, 0, 270))):
            Circle(SKETCH10_R)
        with Locations(Location((-114.417206555, 203.630061042, 0), (0, 0, 270))):
            Circle(SKETCH10_R)
        with Locations(Location((-24.441068797, 290.401569236, 0), (0, 0, 270))):
            Circle(SKETCH10_R)
        Polygon((-8.822197322, 274.205864439), (29.357266283, 234.616363826), (-45.502880332, 162.422469009), (-83.682343937, 202.011969622), align=None)
    extrude(amount=-CUT_EXTRUDE8_DEPTH, mode=Mode.SUBTRACT)

    # Sketch11 → Cut-Extrude9 (cut)
    with BuildSketch(Plane(origin=(0, 5, 0), x_dir=(1, 0, 0), z_dir=(0, 1, 0))):
        with Locations(Location((-6.187782182, 37.349181406, 0), (0, 0, 270))):
            Circle(SKETCH11_R)
        with Locations(Location((36.856083675, -8.653270834, 0), (0, 0, 90))):
            Circle(SKETCH11_R)
        with Locations(Location((6.187782182, -37.349181406, 0), (0, 0, 270))):
            Circle(SKETCH11_R)
        with Locations(Location((-36.856083675, 8.653270834, 0), (0, 0, 90))):
            Circle(SKETCH11_R)
    extrude(amount=-CUT_EXTRUDE9_DEPTH, mode=Mode.SUBTRACT)


solid = part.part
